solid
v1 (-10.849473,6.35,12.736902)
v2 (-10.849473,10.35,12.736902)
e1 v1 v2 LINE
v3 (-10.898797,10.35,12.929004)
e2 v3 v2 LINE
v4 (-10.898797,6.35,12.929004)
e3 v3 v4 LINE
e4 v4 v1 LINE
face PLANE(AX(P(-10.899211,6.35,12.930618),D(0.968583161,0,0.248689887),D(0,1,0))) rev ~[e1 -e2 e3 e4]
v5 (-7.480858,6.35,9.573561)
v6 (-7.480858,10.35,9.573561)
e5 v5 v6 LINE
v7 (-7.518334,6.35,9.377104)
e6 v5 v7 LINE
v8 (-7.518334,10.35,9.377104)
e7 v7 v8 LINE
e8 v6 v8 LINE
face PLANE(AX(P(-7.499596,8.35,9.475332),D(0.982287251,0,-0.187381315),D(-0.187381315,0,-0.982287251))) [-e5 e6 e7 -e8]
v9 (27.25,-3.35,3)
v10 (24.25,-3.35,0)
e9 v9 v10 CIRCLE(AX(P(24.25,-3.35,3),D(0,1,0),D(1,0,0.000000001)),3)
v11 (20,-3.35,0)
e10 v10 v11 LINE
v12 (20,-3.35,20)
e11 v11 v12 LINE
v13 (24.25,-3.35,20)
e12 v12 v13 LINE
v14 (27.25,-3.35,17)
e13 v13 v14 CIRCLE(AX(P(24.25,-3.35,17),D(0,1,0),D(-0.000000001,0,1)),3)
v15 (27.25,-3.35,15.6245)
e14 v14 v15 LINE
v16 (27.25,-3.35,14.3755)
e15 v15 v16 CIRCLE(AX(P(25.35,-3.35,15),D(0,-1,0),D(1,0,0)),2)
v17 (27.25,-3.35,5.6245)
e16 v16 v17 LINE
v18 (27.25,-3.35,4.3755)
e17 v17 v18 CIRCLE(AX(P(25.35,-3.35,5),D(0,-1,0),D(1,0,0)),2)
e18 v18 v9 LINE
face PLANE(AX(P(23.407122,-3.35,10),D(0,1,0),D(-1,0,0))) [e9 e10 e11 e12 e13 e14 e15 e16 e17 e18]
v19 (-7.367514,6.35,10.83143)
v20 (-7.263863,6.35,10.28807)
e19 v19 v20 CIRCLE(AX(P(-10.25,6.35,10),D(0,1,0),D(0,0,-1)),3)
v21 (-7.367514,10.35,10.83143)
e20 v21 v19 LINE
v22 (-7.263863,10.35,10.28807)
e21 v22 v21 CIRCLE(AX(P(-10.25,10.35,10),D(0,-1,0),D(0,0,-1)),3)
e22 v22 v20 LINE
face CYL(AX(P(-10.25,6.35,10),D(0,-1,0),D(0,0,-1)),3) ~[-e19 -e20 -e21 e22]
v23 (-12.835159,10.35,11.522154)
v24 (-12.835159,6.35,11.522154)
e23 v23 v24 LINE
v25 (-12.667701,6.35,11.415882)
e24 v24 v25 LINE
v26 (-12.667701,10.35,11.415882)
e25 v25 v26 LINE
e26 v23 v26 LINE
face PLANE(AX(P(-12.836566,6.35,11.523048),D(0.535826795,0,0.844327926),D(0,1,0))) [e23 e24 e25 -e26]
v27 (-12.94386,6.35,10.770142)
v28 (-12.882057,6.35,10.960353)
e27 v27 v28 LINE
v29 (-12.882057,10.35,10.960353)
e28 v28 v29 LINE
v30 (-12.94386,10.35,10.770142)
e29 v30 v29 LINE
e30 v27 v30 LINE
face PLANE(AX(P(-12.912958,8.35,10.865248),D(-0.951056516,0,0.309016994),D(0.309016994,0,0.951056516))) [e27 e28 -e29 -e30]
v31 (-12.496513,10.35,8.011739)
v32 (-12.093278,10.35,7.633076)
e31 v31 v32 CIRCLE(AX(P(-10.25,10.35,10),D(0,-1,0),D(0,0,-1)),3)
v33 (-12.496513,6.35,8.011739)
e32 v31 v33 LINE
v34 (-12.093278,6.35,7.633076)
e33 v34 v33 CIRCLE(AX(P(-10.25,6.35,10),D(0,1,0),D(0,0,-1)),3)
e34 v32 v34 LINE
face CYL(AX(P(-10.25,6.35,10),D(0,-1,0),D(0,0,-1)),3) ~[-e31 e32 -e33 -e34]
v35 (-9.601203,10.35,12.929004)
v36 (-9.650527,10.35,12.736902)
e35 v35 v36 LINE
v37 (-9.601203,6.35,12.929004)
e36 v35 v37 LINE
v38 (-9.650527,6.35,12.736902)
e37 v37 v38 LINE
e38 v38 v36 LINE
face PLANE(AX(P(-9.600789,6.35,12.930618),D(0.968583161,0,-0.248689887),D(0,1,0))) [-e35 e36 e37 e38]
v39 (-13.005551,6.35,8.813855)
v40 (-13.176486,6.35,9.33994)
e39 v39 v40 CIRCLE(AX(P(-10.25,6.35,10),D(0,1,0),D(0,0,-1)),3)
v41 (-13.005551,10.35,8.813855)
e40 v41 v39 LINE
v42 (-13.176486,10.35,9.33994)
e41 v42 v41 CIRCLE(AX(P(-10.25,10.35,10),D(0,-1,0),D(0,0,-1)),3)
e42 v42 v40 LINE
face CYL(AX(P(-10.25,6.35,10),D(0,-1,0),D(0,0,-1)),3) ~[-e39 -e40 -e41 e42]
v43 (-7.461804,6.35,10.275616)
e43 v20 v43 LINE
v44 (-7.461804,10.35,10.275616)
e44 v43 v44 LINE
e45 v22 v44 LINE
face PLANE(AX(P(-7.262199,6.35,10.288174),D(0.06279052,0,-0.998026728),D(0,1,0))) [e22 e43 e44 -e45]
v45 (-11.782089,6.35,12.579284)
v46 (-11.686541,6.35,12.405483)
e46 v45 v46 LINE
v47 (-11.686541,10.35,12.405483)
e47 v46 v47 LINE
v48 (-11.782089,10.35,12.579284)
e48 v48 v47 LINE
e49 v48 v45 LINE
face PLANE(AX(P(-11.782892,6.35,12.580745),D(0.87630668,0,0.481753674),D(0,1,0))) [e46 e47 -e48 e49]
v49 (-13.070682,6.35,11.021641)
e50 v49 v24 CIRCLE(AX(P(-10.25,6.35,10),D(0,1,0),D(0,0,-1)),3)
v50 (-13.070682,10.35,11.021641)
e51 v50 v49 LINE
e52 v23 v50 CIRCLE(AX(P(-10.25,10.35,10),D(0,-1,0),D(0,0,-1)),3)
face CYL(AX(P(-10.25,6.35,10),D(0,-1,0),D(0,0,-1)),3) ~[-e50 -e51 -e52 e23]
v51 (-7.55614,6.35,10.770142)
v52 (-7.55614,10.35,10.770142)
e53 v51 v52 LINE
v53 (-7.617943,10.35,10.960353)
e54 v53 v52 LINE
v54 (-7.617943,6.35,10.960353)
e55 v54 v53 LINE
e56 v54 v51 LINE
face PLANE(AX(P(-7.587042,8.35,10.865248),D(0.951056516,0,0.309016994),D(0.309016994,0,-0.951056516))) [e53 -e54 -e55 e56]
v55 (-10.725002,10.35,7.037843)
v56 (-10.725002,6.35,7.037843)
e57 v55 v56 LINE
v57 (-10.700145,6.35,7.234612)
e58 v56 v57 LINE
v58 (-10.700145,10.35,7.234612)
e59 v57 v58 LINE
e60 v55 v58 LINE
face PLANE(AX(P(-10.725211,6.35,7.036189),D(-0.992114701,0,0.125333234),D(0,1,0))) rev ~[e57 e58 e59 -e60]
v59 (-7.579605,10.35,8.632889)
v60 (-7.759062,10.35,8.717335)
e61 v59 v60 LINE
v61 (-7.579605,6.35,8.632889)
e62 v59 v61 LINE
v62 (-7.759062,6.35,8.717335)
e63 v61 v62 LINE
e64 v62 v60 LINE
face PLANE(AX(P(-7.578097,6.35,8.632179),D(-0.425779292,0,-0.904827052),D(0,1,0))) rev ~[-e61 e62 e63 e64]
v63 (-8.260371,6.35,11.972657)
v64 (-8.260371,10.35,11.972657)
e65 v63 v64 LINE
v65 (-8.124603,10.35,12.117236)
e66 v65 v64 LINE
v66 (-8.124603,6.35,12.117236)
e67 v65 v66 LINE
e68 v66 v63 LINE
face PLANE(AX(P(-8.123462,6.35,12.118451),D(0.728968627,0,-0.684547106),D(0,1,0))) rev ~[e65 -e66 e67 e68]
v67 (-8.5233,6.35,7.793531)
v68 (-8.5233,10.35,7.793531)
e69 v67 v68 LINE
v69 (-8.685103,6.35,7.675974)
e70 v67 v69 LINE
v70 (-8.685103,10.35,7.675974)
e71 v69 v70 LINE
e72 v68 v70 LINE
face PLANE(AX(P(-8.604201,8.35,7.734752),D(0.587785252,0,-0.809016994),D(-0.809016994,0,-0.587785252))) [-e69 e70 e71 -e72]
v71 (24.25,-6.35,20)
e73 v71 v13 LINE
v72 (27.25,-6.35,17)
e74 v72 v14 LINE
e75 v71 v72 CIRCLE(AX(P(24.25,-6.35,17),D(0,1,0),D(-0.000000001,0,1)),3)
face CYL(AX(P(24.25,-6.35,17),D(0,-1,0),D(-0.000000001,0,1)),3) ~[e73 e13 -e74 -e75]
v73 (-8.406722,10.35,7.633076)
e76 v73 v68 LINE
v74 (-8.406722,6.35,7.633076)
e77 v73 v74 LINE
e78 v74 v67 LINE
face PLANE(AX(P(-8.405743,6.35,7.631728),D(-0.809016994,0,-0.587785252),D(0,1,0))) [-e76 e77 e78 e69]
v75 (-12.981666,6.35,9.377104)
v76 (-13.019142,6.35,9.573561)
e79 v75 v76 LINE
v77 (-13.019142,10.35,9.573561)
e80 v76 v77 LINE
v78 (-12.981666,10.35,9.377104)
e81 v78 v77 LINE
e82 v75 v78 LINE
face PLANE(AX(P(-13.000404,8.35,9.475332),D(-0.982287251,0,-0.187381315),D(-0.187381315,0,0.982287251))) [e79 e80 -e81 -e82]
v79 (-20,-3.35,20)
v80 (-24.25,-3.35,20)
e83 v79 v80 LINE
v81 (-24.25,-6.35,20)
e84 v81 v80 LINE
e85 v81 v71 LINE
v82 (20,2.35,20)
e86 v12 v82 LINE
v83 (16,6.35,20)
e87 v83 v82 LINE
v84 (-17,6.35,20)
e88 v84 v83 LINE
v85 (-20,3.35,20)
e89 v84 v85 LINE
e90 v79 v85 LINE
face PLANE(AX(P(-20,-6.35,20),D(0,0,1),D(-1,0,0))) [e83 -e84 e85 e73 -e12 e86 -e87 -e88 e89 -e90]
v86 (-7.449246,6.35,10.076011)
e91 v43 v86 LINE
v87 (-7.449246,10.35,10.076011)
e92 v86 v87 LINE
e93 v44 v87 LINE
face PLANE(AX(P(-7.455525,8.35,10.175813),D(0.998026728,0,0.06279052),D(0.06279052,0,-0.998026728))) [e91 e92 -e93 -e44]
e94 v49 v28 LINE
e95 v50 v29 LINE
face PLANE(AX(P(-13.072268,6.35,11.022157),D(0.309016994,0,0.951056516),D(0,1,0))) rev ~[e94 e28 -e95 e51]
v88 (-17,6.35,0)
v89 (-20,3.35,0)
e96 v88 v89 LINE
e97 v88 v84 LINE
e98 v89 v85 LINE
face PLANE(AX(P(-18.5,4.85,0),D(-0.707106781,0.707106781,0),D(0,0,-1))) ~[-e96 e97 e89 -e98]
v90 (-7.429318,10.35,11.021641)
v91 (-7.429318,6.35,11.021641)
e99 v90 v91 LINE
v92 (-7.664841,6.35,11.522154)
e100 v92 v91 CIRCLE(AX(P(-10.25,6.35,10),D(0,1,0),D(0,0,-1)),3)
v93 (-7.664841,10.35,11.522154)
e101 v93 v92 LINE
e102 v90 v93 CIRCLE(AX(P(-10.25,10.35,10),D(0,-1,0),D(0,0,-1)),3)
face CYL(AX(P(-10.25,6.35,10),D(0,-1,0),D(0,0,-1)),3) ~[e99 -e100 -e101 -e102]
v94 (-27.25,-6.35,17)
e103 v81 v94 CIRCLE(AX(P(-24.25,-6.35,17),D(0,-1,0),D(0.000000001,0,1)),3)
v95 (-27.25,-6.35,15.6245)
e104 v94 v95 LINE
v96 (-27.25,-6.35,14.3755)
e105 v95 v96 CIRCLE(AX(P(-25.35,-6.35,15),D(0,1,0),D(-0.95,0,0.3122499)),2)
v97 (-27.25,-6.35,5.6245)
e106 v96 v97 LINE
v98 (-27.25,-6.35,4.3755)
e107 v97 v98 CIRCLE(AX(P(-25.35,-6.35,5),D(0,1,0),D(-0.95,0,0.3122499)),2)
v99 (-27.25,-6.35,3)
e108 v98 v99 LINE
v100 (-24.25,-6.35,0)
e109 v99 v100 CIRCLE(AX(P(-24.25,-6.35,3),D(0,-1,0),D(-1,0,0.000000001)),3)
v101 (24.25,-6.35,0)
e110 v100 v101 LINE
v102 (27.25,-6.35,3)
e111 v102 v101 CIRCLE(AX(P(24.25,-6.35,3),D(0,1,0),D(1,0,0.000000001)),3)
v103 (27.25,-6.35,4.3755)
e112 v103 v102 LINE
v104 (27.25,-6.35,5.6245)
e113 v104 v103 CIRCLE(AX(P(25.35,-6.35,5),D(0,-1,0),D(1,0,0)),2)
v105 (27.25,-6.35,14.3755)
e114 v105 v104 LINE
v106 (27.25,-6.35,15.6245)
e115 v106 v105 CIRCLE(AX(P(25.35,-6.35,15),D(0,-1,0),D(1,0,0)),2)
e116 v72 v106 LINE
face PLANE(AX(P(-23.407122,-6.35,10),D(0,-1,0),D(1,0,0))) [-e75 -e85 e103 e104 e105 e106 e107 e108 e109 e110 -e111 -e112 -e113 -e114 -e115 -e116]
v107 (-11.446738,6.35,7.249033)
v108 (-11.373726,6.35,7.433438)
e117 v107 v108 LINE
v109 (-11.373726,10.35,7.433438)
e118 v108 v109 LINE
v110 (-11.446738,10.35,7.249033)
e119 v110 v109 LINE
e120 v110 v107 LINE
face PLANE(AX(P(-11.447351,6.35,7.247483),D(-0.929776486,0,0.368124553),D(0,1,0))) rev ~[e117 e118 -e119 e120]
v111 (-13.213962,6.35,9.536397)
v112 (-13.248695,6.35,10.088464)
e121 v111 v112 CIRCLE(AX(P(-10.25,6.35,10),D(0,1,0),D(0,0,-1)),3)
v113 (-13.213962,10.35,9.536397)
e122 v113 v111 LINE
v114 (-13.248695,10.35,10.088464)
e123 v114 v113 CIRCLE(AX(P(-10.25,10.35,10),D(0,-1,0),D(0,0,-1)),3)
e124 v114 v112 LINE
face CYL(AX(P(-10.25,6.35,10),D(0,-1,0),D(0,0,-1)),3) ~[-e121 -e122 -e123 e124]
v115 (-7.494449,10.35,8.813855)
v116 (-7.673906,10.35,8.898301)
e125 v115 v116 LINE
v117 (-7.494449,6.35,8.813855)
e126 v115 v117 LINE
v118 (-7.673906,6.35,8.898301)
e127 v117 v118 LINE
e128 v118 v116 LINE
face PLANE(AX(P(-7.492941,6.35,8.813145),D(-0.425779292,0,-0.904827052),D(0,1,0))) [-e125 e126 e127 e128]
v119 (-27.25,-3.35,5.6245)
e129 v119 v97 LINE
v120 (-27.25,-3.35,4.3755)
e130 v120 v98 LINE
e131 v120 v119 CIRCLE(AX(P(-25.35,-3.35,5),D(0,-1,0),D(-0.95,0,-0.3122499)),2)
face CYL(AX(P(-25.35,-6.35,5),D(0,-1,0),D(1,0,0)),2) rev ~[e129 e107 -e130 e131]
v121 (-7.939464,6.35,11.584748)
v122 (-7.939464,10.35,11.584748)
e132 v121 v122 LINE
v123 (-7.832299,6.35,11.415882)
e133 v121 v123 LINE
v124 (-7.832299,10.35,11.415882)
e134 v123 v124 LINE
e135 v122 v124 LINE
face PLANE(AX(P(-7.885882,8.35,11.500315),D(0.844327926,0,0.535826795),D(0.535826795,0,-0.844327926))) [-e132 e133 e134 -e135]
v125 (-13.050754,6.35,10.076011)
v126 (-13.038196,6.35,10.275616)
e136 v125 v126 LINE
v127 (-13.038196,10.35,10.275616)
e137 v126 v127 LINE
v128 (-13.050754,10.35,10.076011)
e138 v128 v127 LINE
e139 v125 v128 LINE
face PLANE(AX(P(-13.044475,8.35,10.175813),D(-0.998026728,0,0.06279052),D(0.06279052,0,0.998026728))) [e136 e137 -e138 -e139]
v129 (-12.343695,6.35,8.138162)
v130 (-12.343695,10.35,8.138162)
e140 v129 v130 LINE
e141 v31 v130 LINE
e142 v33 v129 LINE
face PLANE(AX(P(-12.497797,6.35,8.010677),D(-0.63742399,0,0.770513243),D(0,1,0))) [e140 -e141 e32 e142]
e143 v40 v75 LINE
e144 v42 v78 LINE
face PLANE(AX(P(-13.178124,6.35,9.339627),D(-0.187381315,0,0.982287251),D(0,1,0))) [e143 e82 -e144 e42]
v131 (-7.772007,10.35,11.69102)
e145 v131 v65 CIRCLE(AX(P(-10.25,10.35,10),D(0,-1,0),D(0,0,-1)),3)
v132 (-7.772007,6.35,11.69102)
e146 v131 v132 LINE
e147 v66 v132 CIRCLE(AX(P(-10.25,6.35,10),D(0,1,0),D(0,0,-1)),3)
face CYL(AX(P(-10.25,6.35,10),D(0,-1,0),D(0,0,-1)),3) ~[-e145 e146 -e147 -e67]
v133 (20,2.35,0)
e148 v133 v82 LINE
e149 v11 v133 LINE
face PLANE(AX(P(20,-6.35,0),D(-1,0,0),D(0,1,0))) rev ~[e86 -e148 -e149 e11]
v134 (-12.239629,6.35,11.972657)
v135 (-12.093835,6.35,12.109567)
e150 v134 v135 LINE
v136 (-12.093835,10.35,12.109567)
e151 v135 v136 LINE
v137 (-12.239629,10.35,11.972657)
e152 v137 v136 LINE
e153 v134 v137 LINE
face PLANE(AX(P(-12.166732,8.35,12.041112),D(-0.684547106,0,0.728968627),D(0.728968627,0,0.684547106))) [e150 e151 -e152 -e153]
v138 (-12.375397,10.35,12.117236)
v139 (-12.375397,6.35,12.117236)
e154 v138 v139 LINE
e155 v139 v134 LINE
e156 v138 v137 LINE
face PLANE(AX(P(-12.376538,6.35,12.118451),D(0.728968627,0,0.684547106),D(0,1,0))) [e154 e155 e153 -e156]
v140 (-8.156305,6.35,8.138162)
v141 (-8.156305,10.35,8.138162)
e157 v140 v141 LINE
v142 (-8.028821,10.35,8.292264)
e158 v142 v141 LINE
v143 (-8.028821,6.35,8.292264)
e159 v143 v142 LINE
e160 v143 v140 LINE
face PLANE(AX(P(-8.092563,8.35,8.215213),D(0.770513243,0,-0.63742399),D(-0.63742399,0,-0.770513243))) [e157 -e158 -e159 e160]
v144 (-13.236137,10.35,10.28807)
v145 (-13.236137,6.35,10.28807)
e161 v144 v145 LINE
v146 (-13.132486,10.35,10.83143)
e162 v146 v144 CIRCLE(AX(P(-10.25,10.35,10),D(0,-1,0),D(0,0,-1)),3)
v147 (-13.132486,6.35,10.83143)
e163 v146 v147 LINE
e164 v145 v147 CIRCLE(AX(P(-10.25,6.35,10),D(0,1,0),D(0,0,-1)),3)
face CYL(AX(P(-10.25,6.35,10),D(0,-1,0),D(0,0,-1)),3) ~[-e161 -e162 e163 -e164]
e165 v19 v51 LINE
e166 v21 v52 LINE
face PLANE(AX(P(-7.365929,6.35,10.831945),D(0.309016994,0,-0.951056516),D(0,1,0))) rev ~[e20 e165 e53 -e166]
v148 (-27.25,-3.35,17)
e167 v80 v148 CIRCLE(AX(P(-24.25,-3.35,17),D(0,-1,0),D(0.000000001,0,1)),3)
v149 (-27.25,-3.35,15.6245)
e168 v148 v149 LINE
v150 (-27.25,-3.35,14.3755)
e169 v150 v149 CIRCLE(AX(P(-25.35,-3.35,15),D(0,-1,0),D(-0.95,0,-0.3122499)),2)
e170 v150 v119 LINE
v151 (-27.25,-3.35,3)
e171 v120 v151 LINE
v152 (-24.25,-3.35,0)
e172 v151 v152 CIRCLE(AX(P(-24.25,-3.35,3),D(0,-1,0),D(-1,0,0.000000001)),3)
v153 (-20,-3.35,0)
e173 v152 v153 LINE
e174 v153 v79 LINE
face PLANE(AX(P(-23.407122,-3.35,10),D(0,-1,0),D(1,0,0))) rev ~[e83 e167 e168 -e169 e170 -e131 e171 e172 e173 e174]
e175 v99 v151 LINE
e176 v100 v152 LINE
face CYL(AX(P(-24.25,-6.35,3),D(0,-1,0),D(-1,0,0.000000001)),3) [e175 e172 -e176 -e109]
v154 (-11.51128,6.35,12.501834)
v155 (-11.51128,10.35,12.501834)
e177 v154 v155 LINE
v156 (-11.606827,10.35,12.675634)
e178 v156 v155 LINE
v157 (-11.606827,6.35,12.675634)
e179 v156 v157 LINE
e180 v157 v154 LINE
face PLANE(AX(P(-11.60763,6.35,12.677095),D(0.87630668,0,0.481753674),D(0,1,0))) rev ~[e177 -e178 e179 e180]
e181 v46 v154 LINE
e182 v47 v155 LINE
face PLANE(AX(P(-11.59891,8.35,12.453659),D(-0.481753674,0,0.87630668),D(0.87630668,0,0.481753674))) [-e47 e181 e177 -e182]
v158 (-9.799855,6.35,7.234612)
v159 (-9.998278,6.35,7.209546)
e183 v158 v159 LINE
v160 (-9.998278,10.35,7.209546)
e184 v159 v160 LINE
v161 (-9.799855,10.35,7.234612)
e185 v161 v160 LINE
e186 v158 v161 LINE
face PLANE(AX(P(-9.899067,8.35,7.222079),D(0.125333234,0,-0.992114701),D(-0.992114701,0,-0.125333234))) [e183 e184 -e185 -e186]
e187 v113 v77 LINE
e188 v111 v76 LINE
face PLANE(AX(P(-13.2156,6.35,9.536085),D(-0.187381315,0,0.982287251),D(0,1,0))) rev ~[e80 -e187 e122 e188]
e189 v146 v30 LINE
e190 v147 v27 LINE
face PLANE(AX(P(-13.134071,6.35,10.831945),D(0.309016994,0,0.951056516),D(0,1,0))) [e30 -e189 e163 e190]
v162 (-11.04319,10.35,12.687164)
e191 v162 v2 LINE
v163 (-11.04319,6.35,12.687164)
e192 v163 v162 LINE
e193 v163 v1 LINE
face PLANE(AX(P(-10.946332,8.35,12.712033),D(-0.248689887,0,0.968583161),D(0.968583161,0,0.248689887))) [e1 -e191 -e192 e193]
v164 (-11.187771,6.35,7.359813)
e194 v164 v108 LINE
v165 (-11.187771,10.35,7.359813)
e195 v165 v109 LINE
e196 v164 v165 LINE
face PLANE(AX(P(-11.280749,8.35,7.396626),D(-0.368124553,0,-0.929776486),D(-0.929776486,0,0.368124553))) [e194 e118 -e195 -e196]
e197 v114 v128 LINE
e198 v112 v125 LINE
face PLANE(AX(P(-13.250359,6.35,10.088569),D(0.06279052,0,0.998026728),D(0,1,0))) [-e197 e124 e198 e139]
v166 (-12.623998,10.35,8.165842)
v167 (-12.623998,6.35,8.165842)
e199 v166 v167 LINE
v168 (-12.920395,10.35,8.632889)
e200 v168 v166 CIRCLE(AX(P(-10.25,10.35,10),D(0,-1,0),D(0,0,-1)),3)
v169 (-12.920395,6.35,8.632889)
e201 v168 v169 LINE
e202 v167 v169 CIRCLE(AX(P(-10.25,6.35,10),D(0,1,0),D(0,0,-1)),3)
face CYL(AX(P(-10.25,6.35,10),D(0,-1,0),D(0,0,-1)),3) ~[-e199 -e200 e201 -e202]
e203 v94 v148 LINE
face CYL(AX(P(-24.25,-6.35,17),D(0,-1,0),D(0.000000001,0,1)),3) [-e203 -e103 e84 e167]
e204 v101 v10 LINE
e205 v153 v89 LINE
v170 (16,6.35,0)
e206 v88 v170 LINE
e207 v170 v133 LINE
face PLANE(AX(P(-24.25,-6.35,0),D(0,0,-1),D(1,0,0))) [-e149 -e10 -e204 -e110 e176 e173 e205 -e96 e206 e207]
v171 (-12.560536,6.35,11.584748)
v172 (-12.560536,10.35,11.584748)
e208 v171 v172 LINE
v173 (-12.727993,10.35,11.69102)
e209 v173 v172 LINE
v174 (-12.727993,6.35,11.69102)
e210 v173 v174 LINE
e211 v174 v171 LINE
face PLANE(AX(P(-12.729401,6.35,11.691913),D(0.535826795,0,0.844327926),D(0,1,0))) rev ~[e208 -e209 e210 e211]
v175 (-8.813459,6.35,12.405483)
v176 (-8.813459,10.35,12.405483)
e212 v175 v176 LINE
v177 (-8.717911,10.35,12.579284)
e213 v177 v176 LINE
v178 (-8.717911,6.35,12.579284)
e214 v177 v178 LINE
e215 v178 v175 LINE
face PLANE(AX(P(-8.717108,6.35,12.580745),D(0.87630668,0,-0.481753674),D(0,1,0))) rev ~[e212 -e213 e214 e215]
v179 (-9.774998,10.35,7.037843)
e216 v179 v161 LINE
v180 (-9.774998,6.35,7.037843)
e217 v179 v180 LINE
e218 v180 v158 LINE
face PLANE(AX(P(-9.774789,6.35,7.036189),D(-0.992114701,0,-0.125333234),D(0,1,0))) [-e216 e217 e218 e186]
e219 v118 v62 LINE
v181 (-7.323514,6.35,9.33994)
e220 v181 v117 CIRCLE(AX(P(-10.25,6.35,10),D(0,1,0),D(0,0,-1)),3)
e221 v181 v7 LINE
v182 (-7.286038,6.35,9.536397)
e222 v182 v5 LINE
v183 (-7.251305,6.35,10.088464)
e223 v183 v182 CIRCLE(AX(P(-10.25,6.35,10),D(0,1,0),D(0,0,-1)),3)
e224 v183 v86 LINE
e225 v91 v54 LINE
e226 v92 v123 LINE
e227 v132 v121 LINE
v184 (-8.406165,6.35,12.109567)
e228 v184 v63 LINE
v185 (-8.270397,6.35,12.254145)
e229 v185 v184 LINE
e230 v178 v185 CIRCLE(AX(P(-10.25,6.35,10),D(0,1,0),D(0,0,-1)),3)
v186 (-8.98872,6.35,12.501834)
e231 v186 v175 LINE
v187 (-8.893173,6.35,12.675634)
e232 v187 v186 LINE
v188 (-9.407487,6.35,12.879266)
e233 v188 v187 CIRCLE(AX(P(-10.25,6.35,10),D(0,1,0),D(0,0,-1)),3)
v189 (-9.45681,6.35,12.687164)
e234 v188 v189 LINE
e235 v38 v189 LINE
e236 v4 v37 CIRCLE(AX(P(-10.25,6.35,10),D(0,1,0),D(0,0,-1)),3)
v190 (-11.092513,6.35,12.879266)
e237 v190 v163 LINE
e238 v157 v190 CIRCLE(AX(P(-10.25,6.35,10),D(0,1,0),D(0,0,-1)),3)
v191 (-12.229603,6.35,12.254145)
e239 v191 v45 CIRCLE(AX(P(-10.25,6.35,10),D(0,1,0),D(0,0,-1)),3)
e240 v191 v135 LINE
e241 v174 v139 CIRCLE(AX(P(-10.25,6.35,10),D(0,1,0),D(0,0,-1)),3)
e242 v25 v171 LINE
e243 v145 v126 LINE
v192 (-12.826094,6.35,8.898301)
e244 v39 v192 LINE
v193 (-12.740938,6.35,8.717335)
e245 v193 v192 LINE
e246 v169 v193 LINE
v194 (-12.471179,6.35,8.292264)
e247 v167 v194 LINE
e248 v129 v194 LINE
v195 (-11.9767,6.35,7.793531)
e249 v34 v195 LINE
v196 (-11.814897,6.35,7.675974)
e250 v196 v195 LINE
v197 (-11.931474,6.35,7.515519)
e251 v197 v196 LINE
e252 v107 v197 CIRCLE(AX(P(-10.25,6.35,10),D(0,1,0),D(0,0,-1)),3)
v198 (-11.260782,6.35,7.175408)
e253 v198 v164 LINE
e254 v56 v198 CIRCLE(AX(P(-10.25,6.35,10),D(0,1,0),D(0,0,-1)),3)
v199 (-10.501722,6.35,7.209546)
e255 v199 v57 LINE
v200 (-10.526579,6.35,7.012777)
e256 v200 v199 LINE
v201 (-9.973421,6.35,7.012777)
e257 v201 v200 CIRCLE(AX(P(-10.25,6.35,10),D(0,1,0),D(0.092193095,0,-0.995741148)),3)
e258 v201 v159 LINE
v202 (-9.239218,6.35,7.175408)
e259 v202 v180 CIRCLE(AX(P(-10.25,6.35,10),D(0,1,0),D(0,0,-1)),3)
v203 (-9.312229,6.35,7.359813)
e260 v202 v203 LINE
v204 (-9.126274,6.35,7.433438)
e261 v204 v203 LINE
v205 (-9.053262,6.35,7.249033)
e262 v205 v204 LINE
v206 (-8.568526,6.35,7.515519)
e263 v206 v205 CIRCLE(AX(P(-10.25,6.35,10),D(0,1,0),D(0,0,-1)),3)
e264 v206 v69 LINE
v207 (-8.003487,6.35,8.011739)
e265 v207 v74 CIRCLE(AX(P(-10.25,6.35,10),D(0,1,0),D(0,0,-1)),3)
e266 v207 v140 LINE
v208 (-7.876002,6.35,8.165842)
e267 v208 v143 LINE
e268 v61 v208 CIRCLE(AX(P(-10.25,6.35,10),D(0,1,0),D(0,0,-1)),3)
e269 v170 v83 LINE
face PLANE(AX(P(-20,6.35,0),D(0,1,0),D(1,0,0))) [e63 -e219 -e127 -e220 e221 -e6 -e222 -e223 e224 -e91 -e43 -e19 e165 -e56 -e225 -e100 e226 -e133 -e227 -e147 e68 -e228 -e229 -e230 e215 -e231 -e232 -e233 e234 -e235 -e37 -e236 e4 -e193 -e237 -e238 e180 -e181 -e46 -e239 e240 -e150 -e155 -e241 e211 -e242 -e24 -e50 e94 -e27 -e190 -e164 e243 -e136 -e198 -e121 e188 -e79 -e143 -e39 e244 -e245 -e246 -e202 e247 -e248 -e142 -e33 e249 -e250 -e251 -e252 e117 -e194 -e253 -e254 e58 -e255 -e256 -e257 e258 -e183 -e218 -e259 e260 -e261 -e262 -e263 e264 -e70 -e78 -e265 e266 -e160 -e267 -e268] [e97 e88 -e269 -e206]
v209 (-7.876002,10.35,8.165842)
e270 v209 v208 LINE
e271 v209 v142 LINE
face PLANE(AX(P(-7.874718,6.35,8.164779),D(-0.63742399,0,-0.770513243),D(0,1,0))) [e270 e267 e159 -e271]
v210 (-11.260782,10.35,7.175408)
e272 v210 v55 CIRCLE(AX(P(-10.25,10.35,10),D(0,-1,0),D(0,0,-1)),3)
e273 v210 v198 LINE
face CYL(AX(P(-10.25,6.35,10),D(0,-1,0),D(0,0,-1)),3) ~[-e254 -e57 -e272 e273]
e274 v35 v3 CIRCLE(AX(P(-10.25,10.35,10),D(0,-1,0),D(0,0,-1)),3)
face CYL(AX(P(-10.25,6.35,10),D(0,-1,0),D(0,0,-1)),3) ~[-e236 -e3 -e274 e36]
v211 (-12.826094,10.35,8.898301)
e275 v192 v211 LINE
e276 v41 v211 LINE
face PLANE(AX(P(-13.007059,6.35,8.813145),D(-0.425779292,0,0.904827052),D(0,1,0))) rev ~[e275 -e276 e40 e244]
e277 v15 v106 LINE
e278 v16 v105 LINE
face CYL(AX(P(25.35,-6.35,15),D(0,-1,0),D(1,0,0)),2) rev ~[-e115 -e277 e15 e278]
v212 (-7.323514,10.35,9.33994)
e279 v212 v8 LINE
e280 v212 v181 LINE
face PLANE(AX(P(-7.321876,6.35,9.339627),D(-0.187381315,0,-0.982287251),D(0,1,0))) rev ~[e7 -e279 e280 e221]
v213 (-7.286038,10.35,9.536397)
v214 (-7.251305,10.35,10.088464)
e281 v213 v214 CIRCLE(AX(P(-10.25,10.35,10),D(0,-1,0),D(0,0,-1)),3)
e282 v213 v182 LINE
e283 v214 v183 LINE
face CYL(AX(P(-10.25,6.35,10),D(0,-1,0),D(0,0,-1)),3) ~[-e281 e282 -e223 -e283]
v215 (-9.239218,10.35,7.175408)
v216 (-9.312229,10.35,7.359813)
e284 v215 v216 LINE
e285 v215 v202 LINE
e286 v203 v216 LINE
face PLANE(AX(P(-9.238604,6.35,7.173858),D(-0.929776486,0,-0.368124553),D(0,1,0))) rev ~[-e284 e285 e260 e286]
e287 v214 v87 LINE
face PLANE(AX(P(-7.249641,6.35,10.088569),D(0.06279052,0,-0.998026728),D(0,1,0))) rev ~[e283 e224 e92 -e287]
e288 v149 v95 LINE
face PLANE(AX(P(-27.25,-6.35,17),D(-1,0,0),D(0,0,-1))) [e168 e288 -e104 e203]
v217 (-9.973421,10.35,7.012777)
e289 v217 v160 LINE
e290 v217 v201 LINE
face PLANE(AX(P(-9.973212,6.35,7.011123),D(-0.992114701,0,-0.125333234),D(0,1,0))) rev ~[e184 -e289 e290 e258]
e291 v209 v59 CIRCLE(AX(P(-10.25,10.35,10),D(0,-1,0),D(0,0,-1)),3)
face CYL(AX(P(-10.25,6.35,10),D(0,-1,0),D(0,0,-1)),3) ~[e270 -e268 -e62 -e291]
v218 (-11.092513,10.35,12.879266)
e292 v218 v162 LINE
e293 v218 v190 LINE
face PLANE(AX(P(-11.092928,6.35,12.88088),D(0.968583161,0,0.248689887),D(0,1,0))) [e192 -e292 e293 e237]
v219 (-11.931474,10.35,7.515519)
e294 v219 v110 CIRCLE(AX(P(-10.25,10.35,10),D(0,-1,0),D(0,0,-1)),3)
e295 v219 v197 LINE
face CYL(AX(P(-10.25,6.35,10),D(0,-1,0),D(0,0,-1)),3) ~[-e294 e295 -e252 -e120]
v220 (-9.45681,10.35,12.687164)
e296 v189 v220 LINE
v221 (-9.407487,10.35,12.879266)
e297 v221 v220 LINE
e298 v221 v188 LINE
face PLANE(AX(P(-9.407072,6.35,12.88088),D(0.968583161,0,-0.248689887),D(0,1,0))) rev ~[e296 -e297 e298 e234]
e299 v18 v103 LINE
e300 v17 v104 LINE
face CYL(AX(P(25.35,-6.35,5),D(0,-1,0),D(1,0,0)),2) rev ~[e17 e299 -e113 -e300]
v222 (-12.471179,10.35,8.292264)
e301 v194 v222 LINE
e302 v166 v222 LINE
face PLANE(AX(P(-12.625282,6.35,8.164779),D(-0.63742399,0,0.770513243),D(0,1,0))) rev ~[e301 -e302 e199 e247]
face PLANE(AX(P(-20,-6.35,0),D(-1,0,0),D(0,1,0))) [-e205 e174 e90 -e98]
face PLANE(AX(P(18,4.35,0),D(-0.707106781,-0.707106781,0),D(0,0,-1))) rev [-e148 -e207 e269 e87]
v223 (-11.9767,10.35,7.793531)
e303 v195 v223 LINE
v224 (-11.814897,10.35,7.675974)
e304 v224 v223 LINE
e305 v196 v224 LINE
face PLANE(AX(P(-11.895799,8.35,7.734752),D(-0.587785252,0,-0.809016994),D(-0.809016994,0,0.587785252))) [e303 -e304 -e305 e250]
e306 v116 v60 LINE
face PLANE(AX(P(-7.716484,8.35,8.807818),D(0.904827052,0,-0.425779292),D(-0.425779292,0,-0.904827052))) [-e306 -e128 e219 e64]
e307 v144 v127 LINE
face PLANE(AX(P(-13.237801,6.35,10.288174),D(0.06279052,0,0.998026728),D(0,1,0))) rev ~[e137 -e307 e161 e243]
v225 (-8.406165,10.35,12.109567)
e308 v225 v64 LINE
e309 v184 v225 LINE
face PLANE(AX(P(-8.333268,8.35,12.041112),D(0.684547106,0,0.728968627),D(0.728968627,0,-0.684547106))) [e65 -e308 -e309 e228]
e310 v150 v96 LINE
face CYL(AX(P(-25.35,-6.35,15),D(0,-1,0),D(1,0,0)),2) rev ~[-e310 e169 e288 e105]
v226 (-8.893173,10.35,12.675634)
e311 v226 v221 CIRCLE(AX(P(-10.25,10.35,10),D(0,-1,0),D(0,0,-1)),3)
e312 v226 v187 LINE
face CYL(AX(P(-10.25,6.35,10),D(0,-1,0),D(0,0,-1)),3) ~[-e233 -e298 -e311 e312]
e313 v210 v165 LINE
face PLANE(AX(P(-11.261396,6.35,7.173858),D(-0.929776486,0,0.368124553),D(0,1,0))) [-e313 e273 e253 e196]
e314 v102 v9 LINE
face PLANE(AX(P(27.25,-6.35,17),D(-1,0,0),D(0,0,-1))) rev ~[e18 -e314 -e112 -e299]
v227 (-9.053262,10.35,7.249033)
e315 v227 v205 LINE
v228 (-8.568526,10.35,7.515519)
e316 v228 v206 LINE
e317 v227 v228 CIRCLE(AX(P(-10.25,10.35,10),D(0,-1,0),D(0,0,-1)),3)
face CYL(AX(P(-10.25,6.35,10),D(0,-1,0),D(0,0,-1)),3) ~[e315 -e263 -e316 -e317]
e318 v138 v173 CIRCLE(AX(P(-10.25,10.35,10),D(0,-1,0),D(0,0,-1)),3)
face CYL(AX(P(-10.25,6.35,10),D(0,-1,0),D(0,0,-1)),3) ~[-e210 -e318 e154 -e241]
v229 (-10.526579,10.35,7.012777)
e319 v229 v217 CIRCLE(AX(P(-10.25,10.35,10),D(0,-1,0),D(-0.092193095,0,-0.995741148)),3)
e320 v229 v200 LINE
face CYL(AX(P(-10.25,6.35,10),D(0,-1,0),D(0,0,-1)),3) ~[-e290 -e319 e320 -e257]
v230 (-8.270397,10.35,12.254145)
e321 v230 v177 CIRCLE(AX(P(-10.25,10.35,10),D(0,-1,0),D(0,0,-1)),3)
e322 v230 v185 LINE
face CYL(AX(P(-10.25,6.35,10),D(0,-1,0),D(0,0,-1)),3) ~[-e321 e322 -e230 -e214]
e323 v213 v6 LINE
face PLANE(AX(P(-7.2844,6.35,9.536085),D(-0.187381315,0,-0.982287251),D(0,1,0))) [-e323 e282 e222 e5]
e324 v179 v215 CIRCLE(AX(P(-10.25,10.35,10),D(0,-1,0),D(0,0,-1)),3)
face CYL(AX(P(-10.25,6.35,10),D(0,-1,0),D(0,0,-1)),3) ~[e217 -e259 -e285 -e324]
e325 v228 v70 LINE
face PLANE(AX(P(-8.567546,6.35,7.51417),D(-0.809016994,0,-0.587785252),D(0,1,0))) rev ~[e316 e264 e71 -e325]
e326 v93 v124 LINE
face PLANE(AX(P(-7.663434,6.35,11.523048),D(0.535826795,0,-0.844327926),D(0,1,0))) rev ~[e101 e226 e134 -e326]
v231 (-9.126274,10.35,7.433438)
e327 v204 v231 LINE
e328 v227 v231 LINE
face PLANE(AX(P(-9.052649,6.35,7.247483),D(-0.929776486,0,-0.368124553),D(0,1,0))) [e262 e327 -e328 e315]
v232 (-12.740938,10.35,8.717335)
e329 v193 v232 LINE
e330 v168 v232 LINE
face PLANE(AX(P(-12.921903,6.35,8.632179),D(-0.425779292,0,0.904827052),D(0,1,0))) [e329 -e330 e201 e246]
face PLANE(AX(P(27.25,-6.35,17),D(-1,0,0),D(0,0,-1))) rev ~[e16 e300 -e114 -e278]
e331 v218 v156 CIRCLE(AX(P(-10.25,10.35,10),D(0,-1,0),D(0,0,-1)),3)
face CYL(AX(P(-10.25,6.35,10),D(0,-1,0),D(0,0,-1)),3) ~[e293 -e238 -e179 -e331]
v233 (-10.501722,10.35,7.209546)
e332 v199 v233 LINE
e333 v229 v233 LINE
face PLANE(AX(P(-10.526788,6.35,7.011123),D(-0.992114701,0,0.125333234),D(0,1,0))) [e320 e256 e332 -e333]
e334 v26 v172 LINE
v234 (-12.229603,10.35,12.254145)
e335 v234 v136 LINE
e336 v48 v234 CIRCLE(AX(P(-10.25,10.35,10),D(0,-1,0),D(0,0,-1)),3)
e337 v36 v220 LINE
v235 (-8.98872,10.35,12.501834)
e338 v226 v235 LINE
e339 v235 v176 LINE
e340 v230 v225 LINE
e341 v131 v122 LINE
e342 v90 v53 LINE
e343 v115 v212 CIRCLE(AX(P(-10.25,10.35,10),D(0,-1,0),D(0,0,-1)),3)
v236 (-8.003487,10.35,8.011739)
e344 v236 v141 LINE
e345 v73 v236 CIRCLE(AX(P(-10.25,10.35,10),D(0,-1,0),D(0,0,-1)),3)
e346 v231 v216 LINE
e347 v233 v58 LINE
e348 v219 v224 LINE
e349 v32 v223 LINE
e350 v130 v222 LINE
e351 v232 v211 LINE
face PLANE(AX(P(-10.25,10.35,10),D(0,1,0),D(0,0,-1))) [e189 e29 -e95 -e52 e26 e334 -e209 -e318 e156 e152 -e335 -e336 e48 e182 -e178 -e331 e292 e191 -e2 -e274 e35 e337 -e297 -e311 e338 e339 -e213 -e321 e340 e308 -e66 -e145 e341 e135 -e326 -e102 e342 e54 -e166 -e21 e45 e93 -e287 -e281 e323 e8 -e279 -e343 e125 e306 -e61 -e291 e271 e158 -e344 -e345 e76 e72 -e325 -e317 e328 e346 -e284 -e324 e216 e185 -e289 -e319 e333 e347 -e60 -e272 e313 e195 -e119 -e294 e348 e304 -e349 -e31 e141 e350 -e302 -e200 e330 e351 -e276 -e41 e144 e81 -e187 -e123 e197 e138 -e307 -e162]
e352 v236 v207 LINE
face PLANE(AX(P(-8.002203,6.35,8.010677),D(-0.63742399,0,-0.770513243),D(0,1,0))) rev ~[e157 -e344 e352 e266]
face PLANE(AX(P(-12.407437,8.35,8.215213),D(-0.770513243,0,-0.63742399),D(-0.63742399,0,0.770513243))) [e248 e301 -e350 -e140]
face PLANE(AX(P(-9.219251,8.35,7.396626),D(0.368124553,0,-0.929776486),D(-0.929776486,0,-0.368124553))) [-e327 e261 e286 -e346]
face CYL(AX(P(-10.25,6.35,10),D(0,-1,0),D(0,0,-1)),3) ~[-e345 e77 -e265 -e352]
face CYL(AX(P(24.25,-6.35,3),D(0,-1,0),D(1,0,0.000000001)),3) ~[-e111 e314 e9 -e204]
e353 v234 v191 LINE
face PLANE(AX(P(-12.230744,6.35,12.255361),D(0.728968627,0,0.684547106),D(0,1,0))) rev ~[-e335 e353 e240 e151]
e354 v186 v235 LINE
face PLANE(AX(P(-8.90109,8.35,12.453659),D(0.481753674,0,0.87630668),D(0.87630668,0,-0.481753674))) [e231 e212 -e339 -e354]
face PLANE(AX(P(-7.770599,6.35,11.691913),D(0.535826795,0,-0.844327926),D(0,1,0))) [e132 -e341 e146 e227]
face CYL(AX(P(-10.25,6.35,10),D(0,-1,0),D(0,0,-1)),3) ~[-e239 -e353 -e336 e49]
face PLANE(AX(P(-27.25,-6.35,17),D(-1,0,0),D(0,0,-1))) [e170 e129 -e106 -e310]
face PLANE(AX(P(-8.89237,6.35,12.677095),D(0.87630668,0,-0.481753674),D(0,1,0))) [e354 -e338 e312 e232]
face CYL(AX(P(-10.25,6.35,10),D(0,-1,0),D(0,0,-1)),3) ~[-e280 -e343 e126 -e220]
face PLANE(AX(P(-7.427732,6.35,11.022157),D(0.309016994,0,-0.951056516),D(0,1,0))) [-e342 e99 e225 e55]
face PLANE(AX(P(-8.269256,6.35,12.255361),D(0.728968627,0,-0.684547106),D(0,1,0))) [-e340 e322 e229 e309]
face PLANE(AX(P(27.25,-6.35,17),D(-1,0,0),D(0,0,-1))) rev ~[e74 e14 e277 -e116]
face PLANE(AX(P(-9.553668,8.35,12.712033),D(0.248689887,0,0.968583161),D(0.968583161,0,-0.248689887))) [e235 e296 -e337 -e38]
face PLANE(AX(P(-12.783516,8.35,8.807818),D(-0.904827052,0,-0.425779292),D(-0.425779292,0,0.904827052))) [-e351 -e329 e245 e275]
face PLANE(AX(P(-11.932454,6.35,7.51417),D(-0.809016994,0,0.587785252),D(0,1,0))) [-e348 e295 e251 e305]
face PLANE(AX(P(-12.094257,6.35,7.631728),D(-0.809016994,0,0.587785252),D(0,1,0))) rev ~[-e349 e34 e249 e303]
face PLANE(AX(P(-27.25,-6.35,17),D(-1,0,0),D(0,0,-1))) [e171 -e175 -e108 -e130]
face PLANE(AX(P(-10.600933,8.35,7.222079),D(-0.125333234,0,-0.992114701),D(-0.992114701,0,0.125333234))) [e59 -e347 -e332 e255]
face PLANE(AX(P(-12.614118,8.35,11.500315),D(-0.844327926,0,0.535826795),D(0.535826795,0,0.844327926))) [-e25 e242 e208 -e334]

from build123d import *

# Parameters (mm, degrees)
SKETCH_1_W               = 40
SKETCH_1_H               = 12.7
EXTRUDE_1_DEPTH          = 20
EXTRUDE_4_DEPTH          = 3
SKETCH_4_R               = 2
CUT_EXTRUDE_1_DEPTH      = 3
CHAMFER_2_SIZE           = 4
CHAMFER_3_SIZE           = 3
SKETCH_5_R               = 3
EXTRUDE_5_DEPTH          = 4
SKETCH_6_W               = 0.2
SKETCH_6_H               = 4
CUT_EXTRUDE_2_DEPTH      = 0.2
PATTERN_CIRCULAR_1_COUNT = 25


with BuildPart() as part:
    # 草图1 → 凸台-拉伸1 (new body)
    with BuildSketch(Plane.XY):
        Rectangle(SKETCH_1_W, SKETCH_1_H)
    extrude(amount=EXTRUDE_1_DEPTH)

    # 草图3 → 凸台-拉伸4 (add)
    with BuildSketch(Plane.XZ.offset(6.35)):
        with BuildLine():
            Line((-20, 20), (-24.25, 20))
            ThreePointArc((-24.25, 20), (-26.371320344, 19.121320344), (-27.25, 17))
            Line((-27.25, 17), (-27.25, 3))
            ThreePointArc((-27.25, 3), (-26.371320344, 0.878679656), (-24.25, 0))
            Line((-24.25, 0), (-20, 0))
            Line((-20, 0), (-20, 20))
        make_face()
        with BuildLine():
            Line((20, 20), (24.25, 20))
            ThreePointArc((24.25, 20), (26.371320344, 19.121320344), (27.25, 17))
            Line((27.25, 17), (27.25, 3))
            ThreePointArc((27.25, 3), (26.371320344, 0.878679656), (24.25, 0))
            Line((24.25, 0), (20, 0))
            Line((20, 0), (20, 20))
        make_face()
    extrude(amount=-EXTRUDE_4_DEPTH)

    # 草图4 → 切除-拉伸1 (cut)
    with BuildSketch(Plane.XZ.offset(6.35)):
        with Locations((-25.35, 15)):
            Circle(SKETCH_4_R)
        with Locations((-25.35, 5)):
            Circle(SKETCH_4_R)
        with Locations((25.35, 15)):
            Circle(SKETCH_4_R)
        with Locations((25.35, 5)):
            Circle(SKETCH_4_R)
    extrude(amount=-CUT_EXTRUDE_1_DEPTH, mode=Mode.SUBTRACT)

    # 倒角2
    chamfer_2_edges = [part.edges().sort_by_distance(p)[0] for p in [
        (20, 6.35, 10),
    ]]
    chamfer(chamfer_2_edges, length=CHAMFER_2_SIZE)

    # 倒角3
    chamfer_3_edges = [part.edges().sort_by_distance(p)[0] for p in [
        (-20, 6.35, 10),
    ]]
    chamfer(chamfer_3_edges, length=CHAMFER_3_SIZE)

    # 草图5 → 凸台-拉伸5 (add)
    with BuildSketch(Plane(origin=(0, 6.35, 0), x_dir=(1, 0, 0), z_dir=(0, 1, 0))):
        with Locations(Location((-10.25, -10, 0), (0, 0, 90))):
            Circle(SKETCH_5_R)
    extrude_5 = extrude(amount=EXTRUDE_5_DEPTH)

    # 草图6 → 切除-拉伸2 (cut)
    with BuildSketch(Plane.XY.offset(13)):
        with Locations((-10.25, 8.35)):
            Rectangle(SKETCH_6_W, SKETCH_6_H)
    cut_extrude_2 = extrude(amount=-CUT_EXTRUDE_2_DEPTH, mode=Mode.SUBTRACT)

    # 阵列(圆周)1: 凸台-拉伸5, 切除-拉伸2 ×25 about axis
    pattern_circular_1_axis = Axis((-10.25, 10.35, 10), (0, -1, 0))
    add([extrude_5.rotate(pattern_circular_1_axis, i * 360 / PATTERN_CIRCULAR_1_COUNT) for i in range(1, PATTERN_CIRCULAR_1_COUNT)])
    add([cut_extrude_2.rotate(pattern_circular_1_axis, i * 360 / PATTERN_CIRCULAR_1_COUNT) for i in range(1, PATTERN_CIRCULAR_1_COUNT)], mode=Mode.SUBTRACT)


solid = part.part
